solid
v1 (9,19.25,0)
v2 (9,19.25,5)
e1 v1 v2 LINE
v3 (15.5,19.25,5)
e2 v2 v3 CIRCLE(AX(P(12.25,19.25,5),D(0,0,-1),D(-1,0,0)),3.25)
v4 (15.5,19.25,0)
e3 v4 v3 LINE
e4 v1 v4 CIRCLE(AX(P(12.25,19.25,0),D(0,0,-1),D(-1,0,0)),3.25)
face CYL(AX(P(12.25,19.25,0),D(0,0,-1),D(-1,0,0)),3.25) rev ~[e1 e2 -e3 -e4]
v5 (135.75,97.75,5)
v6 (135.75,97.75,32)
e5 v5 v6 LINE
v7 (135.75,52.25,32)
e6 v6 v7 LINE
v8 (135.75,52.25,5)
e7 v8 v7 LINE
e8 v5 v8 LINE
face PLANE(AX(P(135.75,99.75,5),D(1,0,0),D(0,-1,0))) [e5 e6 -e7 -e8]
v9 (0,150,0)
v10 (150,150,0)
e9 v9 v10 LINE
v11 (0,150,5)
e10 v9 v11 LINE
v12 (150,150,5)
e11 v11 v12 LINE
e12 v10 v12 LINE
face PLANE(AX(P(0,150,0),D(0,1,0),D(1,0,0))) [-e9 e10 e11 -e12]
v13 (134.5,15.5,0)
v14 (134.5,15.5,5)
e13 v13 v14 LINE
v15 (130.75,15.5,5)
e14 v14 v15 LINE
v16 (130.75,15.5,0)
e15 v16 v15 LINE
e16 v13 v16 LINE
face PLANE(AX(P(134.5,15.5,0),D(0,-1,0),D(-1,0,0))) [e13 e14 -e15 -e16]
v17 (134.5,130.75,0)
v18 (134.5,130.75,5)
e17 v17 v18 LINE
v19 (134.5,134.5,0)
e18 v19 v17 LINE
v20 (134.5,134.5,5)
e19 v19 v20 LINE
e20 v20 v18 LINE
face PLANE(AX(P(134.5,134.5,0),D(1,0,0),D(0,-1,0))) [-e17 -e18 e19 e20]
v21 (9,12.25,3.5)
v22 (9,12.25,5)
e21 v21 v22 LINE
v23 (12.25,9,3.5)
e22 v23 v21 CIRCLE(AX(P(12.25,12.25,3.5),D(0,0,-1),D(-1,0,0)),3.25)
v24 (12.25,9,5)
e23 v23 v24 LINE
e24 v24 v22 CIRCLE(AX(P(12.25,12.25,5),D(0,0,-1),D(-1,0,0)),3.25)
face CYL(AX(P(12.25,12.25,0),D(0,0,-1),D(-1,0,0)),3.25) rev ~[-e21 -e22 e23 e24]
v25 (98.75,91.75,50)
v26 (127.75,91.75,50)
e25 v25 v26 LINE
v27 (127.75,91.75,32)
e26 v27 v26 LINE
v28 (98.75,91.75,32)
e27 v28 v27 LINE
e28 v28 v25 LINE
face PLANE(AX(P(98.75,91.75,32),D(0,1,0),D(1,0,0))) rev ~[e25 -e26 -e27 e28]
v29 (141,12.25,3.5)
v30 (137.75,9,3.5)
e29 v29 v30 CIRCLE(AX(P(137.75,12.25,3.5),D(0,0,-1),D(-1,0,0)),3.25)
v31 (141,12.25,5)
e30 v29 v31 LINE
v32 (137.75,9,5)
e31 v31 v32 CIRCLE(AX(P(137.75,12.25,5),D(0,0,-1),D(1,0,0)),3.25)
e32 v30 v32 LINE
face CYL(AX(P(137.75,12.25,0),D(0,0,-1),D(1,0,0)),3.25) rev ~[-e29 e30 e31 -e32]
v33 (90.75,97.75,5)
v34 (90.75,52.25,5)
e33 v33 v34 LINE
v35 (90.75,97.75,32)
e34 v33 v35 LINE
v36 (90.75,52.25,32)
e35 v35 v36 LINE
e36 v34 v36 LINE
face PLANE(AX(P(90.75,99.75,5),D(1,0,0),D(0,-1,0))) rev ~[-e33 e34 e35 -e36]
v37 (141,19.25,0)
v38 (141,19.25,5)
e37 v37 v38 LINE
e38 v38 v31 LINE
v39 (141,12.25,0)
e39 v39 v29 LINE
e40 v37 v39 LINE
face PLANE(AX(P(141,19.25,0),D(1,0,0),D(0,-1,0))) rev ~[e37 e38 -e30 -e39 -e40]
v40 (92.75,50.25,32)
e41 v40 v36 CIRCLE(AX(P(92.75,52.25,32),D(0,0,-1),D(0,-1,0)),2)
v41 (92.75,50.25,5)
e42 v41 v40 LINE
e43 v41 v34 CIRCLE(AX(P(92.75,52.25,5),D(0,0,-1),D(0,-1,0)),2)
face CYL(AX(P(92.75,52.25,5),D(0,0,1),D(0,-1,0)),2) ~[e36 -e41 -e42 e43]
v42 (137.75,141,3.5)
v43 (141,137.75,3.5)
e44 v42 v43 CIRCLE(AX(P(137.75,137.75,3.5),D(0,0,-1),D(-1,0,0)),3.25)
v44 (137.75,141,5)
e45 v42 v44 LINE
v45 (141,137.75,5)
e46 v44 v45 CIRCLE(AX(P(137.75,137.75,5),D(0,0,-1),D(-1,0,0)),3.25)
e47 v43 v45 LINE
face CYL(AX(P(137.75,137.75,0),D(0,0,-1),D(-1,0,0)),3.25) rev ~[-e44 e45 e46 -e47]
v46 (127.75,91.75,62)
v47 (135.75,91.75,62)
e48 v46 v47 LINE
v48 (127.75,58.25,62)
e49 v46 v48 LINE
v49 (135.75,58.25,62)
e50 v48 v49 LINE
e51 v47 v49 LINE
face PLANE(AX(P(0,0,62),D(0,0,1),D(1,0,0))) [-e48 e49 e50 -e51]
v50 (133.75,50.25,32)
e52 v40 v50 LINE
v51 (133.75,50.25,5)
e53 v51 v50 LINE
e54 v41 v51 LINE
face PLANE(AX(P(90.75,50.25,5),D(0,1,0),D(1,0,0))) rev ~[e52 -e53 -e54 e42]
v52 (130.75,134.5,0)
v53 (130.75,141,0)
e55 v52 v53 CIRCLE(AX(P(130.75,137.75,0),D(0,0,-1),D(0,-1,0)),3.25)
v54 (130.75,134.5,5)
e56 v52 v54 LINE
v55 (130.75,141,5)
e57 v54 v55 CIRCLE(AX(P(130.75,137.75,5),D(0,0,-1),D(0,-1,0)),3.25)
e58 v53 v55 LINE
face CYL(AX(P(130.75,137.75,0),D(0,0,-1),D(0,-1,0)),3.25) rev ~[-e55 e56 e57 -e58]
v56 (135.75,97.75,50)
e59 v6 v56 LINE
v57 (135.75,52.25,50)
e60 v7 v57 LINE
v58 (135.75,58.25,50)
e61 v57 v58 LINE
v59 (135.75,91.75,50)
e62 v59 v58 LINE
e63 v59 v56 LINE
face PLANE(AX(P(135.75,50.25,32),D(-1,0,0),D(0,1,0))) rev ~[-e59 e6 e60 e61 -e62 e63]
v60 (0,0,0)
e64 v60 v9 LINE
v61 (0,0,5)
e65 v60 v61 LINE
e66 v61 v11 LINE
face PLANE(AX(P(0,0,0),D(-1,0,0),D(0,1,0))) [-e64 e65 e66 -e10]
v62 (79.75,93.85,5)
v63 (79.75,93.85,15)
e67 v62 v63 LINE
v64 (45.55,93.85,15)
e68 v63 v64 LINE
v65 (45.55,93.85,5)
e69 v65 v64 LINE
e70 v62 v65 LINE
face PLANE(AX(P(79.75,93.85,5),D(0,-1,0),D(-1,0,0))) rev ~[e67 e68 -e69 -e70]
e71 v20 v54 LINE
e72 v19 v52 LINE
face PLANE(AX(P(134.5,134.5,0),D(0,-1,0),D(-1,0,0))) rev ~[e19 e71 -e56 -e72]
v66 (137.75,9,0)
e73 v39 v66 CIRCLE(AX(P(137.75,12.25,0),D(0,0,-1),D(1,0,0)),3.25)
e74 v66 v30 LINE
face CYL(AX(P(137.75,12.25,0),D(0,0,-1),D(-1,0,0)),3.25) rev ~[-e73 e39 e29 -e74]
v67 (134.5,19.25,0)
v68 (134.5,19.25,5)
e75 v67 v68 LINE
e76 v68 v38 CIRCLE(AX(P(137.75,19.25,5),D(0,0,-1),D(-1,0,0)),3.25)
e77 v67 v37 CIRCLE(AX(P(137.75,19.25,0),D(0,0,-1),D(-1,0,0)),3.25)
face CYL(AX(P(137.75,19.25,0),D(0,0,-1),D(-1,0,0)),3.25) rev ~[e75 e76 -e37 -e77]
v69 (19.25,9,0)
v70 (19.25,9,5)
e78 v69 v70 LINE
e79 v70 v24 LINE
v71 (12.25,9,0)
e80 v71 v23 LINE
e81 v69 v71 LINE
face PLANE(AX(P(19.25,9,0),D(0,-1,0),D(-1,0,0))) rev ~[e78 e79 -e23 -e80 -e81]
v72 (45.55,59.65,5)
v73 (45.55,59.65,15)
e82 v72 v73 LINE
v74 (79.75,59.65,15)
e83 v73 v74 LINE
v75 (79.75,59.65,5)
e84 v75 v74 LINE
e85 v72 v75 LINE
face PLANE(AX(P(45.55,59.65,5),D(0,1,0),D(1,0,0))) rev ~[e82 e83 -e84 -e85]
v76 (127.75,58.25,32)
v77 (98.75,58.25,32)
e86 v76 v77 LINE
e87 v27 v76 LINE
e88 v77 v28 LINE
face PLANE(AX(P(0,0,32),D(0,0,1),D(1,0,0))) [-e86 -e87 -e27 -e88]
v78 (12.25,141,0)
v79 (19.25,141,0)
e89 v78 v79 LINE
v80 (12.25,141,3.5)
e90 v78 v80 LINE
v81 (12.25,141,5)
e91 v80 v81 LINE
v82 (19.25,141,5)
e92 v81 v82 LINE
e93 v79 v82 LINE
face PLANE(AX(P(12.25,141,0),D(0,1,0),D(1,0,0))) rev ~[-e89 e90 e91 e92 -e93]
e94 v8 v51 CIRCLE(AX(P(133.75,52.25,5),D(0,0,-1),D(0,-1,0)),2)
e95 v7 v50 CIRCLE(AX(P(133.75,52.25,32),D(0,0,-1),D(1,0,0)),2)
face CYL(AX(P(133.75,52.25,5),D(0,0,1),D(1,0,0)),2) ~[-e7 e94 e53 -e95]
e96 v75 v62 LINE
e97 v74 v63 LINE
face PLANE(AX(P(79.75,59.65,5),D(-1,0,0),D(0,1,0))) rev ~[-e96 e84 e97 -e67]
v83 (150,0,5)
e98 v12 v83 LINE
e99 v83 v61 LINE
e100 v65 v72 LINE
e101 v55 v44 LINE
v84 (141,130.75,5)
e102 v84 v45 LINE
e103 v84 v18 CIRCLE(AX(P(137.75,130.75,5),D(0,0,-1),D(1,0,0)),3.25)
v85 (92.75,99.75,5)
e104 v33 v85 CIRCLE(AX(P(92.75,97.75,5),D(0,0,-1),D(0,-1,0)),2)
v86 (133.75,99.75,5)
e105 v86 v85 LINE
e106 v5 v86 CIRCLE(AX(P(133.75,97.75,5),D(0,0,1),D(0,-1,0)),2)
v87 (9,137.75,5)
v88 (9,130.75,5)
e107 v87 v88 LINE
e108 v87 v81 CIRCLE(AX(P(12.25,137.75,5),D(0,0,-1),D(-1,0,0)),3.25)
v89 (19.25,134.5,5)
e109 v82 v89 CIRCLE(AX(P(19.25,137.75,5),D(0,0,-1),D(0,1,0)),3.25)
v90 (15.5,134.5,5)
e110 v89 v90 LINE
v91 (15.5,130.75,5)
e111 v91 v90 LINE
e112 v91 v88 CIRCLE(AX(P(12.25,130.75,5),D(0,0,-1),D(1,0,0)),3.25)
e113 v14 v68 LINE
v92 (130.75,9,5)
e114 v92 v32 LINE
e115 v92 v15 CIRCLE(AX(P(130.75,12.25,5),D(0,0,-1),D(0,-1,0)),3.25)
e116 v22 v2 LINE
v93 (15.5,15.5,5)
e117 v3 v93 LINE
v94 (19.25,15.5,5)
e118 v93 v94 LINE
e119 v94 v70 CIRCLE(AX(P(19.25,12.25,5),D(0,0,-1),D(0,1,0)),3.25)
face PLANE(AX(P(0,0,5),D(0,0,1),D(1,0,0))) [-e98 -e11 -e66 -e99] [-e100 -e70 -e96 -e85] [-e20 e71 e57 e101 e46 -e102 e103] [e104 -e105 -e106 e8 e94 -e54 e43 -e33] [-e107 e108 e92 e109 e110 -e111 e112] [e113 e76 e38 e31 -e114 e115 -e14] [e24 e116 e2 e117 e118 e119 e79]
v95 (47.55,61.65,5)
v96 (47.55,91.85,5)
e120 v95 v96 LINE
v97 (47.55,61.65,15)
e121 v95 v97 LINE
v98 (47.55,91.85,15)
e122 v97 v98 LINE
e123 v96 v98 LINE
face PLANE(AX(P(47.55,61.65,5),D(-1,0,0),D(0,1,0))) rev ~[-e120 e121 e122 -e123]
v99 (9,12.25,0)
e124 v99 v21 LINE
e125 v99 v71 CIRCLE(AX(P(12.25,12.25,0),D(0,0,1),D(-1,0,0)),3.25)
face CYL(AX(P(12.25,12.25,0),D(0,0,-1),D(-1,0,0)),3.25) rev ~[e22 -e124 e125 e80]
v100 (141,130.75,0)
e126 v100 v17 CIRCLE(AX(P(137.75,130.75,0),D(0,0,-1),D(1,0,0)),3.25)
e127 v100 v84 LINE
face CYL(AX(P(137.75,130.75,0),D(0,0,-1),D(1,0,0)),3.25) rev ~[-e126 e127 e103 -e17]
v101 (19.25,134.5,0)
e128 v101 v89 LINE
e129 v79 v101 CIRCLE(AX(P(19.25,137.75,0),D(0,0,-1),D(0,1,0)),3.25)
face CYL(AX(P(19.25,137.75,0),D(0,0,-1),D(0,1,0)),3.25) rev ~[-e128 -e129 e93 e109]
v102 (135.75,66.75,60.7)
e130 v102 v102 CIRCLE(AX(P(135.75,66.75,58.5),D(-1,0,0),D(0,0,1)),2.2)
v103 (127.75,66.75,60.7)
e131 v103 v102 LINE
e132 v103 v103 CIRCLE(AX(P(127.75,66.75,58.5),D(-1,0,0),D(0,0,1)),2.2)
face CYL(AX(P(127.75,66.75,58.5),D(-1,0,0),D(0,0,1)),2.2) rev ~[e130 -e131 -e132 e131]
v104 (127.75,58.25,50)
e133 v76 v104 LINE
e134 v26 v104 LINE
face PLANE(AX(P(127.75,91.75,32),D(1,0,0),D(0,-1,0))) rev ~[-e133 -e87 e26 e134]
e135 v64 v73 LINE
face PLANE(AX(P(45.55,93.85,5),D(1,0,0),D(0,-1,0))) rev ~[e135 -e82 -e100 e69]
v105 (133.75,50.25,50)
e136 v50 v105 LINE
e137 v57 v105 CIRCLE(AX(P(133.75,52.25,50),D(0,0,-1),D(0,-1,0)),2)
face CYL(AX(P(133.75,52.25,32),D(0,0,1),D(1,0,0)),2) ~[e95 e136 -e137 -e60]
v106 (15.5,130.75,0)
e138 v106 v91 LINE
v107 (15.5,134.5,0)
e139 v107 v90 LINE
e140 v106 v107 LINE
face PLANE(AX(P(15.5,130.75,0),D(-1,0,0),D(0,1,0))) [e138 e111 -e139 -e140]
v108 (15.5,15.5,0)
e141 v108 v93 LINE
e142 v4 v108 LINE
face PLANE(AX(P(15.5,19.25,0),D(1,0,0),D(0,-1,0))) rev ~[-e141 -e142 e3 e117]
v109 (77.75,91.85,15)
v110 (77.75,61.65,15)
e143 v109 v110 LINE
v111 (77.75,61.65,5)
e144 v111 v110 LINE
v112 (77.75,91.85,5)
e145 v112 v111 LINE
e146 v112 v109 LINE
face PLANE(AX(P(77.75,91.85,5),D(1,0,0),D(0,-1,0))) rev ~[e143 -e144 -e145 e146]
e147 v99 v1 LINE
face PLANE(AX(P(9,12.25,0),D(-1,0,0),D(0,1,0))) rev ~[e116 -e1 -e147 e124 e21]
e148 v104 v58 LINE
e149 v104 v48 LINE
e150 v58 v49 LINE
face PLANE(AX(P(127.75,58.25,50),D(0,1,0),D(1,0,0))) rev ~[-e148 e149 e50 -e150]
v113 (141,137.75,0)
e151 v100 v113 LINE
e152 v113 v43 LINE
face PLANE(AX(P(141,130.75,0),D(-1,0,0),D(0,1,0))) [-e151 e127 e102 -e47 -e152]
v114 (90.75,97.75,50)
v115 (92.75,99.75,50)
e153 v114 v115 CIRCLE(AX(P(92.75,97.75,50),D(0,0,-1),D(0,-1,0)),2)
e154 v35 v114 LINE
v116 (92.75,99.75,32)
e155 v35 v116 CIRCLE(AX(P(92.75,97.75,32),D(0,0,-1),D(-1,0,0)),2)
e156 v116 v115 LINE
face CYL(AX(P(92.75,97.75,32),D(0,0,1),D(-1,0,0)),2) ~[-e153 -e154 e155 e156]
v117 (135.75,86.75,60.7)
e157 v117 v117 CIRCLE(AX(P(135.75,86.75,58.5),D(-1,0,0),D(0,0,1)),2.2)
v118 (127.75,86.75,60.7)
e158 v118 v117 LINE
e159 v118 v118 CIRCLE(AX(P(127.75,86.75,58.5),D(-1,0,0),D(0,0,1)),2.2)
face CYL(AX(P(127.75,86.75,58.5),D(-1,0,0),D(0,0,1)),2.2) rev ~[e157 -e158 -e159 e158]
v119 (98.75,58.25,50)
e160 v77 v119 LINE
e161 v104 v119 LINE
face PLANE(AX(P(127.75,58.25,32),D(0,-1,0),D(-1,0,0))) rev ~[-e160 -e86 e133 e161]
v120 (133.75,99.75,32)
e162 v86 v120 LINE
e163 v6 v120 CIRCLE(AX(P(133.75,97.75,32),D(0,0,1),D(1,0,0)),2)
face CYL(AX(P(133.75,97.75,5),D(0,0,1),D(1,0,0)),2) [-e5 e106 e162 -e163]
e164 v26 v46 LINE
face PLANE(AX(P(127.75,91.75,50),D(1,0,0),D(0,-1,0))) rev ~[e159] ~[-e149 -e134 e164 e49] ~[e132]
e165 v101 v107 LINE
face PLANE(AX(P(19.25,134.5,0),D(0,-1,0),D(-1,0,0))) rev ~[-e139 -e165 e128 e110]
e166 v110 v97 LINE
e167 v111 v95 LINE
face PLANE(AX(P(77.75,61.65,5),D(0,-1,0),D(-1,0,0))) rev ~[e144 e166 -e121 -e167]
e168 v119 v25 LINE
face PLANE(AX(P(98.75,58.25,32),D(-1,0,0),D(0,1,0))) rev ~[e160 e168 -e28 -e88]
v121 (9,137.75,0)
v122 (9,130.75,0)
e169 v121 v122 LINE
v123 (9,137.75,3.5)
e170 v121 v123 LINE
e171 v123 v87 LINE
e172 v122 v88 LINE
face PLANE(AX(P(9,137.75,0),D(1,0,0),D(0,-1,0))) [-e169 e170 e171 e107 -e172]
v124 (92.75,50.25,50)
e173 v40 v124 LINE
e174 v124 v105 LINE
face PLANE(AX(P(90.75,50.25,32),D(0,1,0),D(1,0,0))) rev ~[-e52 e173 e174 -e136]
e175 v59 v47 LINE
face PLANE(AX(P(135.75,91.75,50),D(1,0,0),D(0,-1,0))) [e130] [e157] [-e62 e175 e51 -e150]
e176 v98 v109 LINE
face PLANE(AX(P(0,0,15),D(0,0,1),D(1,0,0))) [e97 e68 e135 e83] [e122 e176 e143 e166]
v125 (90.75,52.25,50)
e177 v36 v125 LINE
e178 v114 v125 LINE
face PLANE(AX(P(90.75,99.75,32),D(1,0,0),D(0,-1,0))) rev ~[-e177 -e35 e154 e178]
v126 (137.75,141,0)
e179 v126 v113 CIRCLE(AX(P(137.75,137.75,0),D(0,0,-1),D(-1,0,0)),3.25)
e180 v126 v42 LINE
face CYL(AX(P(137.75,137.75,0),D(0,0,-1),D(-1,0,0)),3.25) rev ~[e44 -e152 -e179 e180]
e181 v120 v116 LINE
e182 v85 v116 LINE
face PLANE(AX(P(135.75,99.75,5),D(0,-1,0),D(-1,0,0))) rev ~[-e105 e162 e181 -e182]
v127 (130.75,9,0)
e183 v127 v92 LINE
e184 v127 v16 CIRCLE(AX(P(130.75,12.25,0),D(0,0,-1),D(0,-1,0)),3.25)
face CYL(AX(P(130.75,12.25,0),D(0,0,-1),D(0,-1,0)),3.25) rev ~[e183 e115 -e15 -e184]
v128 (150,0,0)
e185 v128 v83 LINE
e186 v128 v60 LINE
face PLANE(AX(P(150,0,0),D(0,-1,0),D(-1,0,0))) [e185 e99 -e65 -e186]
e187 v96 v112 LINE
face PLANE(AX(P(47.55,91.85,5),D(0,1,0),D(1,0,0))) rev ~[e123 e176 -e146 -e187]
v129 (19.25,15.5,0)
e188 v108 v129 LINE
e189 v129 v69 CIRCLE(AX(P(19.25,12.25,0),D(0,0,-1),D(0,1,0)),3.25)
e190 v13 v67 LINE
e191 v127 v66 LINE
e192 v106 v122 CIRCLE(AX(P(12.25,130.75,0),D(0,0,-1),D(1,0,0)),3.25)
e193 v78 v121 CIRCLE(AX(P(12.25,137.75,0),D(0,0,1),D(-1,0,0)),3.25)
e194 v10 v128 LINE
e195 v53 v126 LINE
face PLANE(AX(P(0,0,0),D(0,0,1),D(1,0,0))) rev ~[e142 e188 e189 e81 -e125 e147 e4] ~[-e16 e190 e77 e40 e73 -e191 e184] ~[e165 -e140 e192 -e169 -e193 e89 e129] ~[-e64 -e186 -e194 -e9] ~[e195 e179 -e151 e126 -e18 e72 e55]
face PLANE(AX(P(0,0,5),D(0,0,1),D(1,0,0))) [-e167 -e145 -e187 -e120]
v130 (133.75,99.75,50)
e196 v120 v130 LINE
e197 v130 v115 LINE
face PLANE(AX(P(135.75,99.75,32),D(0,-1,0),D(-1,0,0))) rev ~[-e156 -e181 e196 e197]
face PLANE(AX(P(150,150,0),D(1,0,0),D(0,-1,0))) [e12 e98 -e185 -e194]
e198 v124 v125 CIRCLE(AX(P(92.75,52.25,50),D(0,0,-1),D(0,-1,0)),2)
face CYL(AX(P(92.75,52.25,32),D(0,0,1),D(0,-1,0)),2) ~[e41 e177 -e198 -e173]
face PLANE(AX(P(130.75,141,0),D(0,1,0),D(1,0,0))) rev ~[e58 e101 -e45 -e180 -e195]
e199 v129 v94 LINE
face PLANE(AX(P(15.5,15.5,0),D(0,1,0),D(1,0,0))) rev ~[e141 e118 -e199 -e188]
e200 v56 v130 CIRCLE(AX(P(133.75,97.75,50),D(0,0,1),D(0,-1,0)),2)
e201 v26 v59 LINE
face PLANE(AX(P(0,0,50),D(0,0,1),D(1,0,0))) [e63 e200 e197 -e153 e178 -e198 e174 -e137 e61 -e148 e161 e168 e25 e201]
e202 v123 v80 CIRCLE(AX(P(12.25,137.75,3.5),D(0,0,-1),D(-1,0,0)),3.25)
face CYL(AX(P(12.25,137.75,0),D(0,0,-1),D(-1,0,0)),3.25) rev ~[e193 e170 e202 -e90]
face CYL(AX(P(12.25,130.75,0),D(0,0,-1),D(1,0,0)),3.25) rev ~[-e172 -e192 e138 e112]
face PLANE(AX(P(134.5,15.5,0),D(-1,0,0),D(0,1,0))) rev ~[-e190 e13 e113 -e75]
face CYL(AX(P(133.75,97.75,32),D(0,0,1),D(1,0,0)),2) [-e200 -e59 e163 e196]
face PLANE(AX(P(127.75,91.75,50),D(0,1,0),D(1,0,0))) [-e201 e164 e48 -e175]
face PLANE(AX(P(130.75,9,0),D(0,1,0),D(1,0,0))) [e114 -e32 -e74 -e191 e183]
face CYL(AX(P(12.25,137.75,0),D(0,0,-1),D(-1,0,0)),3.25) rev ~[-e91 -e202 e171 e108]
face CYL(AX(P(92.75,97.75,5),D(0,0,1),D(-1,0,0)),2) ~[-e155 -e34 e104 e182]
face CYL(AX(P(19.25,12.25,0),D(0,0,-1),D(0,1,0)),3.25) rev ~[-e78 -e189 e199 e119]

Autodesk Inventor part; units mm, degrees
ref_plane "YZ Plane" through (0, 0, 0) normal (1, 0, 0) x (0, 1, 0)
ref_plane "XZ Plane" through (0, 0, 0) normal (0, 1, 0) x (-1, 0, 0)
ref_plane "XY Plane" through (0, 0, 0) normal (0, 0, 1) x (1, 0, 0)
sketch "스케치1" plane through (0, 0, 0) normal (0, 0, 1) x (1, 0, 0)
  line L0 (0, 150) -> (150, 150)
  line L1 (150, 150) -> (150, 0)
  line L2 (150, 0) -> (0, 0)
  line L3 (0, 0) -> (0, 150)
  dimension "d0" = 150
  dimension "d1" = 150
extrude "돌출1" add sketch "스케치1" along normal blind 5
sketch "스케치2" plane through (0, 0, 5) normal (0, 0, 1) x (1, 0, 0)
  line L0 (0, 0) -> (150, 0) projected
  line L1 (150, 0) -> (150, 150) projected
  line L2 (150, 150) -> (0, 150) projected
  line L3 (0, 150) -> (0, 0) projected
  line L4 (12.25, 137.75) -> (137.75, 137.75)
  line L5 (137.75, 137.75) -> (137.75, 12.25)
  line L6 (137.75, 12.25) -> (12.25, 12.25)
  line L7 (12.25, 12.25) -> (12.25, 137.75)
  dimension "d4" = 12.25
sketch "스케치4" plane through (0, 0, 0) normal (0, 0, -1) x (-1, 0, 0)
  line L0 (0, 0) -> (-150, 0) projected
  line L1 (0, 150) -> (0, 0) projected
  line L2 (-150, 150) -> (0, 150) projected
  line L3 (-150, 0) -> (-150, 150) projected
  line L4 (-12.25, 12.25) -> (-137.75, 12.25)
  line L5 (-137.75, 12.25) -> (-137.75, 137.75)
  line L6 (-137.75, 137.75) -> (-12.25, 137.75)
  line L7 (-12.25, 137.75) -> (-12.25, 12.25)
  circle A0 centre (-12.25, 137.75) radius 3.25
  circle A1 centre (-137.75, 137.75) radius 3.25
  circle A2 centre (-12.25, 12.25) radius 3.25
  circle A3 centre (-137.75, 12.25) radius 3.25
  line L8 (-12.25, 137.75) -> (-12.25, 130.75) construction
  line L9 (-9, 137.75) -> (-9, 130.75)
  line L10 (-15.5, 130.75) -> (-15.5, 137.75)
  arc A4 (-9, 137.75) -> (-15.5, 137.75) centre (-12.25, 137.75) ccw
  arc A5 (-15.5, 130.75) -> (-9, 130.75) centre (-12.25, 130.75) ccw
  line L11 (-12.25, 137.75) -> (-19.25, 137.75) construction
  line L12 (-12.25, 141.0002) -> (-19.25, 141.0002)
  line L13 (-19.25, 134.4998) -> (-12.25, 134.4998)
  arc A6 (-12.25, 134.4998) -> (-12.25, 141.0002) centre (-12.25, 137.75) ccw
  arc A7 (-19.25, 141.0002) -> (-19.25, 134.4998) centre (-19.25, 137.75) ccw
  point P0 (-12.25, 134.25)
  point P1 (-15.75, 137.75)
  dimension "d22" = 12.25
  dimension "d23" = 6.5
  dimension "d26" = 125.5
  dimension "d33" = 125.5
  dimension "d57" = 7
  dimension "d58" = 7
extrude "돌출3" cut sketch "스케치4" against normal blind 3.5 contours A3 L5 L4 | L4 L5 A3 | A2 L7 L4 | L4 L7 A2 | A1 L6 L5 | L5 L6 A1 | A0 L6 L7 | L7 L6 A0
sketch "스케치8" plane through (0, 0, 5) normal (0, 0, 1) x (1, 0, 0)
  point P0 (0, 0)
sketch "스케치9" plane through (0, 0, 0) normal (0, 0, -1) x (-1, 0, 0)
  point P0 (0, 0)
sketch "스케치10" plane through (0, 0, 0) normal (0, 0, -1) x (-1, 0, 0)
  circle A0 centre (-12.25, 137.75) radius 3.25 projected
  circle A1 centre (-137.75, 137.75) radius 3.25 projected
  circle A2 centre (-137.75, 12.25) radius 3.25 projected
  circle A3 centre (-12.25, 12.25) radius 3.25 projected
  circle A4 centre (-137.75, 12.25) radius 3.25 projected
  circle A5 centre (-12.25, 12.25) radius 3.25 projected
  circle A6 centre (-137.75, 137.75) radius 3.25 projected
  circle A7 centre (-12.25, 137.75) radius 3.25 projected
  line L0 (0, 0) -> (-150, 0) projected
  line L1 (0, 150) -> (0, 0) projected
  line L2 (-150, 150) -> (0, 150) projected
  line L3 (-150, 0) -> (-150, 150) projected
sketch "스케치11" plane through (0, 0, 0) normal (0, 0, -1) x (-1, 0, 0)
  circle A0 centre (-12.25, 137.75) radius 3.25 projected
  line L0 (-12.25, 137.75) -> (-12.25, 130.75) construction
  line L1 (-9, 137.75) -> (-9, 130.75)
  line L2 (-15.5, 130.75) -> (-15.5, 137.75)
  arc A1 (-9, 137.75) -> (-15.5, 137.75) centre (-12.25, 137.75) ccw
  arc A2 (-15.5, 130.75) -> (-9, 130.75) centre (-12.25, 130.75) ccw
  line L3 (-12.25, 137.75) -> (-19.25, 137.75) construction
  line L4 (-12.25, 141) -> (-19.25, 141)
  line L5 (-19.25, 134.5) -> (-12.25, 134.5)
  arc A3 (-12.25, 134.5) -> (-12.25, 141) centre (-12.25, 137.75) ccw
  arc A4 (-19.25, 141) -> (-19.25, 134.5) centre (-19.25, 137.75) ccw
  point P0 (0, 0)
  point P1 (-12.25, 134.25)
  point P2 (-15.75, 137.75)
  point P3 (-15.5, 134.5)
  dimension "d60" = 3.25
  dimension "d61" = 7
  dimension "d62" = 7
  dimension "d63" = 3.25
extrude "돌출7" cut sketch "스케치11" against normal blind 5
sketch "스케치12" plane through (0, 0, 0) normal (0, 0, -1) x (-1, 0, 0)
  circle A0 centre (-12.25, 12.25) radius 3.25 projected
  line L0 (-12.25, 12.25) -> (-12.25, 19.25) construction
  line L1 (-9, 12.25) -> (-9, 19.25)
  line L2 (-15.5, 19.25) -> (-15.5, 12.25)
  arc A1 (-15.5, 12.25) -> (-9, 12.25) centre (-12.25, 12.25) ccw
  arc A2 (-9, 19.25) -> (-15.5, 19.25) centre (-12.25, 19.25) ccw
  line L3 (-12.25, 12.25) -> (-19.25, 12.25) construction
  line L4 (-12.25, 15.5) -> (-19.25, 15.5)
  line L5 (-19.25, 9) -> (-12.25, 9)
  arc A3 (-12.25, 9) -> (-12.25, 15.5) centre (-12.25, 12.25) ccw
  arc A4 (-19.25, 15.5) -> (-19.25, 9) centre (-19.25, 12.25) ccw
  line L6 (-137.75, 12.25) -> (-137.75, 19.25) construction
  line L7 (-134.5, 12.25) -> (-134.5, 19.25)
  line L8 (-141, 19.25) -> (-141, 12.25)
  arc A5 (-141, 12.25) -> (-134.5, 12.25) centre (-137.75, 12.25) ccw
  arc A6 (-134.5, 19.25) -> (-141, 19.25) centre (-137.75, 19.25) ccw
  line L9 (-137.75, 12.25) -> (-130.75, 12.25) construction
  line L10 (-137.75, 15.5) -> (-130.75, 15.5)
  line L11 (-130.75, 9) -> (-137.75, 9)
  arc A7 (-137.75, 15.5) -> (-137.75, 9) centre (-137.75, 12.25) ccw
  arc A8 (-130.75, 9) -> (-130.75, 15.5) centre (-130.75, 12.25) ccw
  circle A9 centre (-137.75, 137.75) radius 3.25 projected
  line L12 (-137.75, 137.75) -> (-137.75, 130.75) construction
  line L13 (-134.5, 137.75) -> (-134.5, 130.75)
  line L14 (-141, 130.75) -> (-141, 137.75)
  arc A10 (-134.5, 137.75) -> (-141, 137.75) centre (-137.75, 137.75) ccw
  arc A11 (-141, 130.75) -> (-134.5, 130.75) centre (-137.75, 130.75) ccw
  line L15 (-137.75, 137.75) -> (-130.75, 137.75) construction
  line L16 (-137.75, 134.5) -> (-130.75, 134.5)
  line L17 (-130.75, 141) -> (-137.75, 141)
  arc A12 (-137.75, 141) -> (-137.75, 134.5) centre (-137.75, 137.75) ccw
  arc A13 (-130.75, 134.5) -> (-130.75, 141) centre (-130.75, 137.75) ccw
  point P0 (0, 0)
  point P1 (-12.25, 15.75)
  point P2 (-15.75, 12.25)
  point P3 (-137.75, 15.75)
  point P4 (-134.25, 12.25)
  point P5 (-137.75, 134.25)
  point P6 (-134.25, 137.75)
  point P7 (-134.5, 134.5)
  point P8 (-134.5, 15.5)
  point P9 (-15.5, 15.5)
  dimension "d66" = 3.25
  dimension "d67" = 7
  dimension "d68" = 7
  dimension "d69" = 3.25
  dimension "d70" = 3.25
  dimension "d71" = 7
  dimension "d72" = 3.25
  dimension "d73" = 7
  dimension "d74" = 3.25
  dimension "d75" = 3.25
  dimension "d76" = 7
  dimension "d77" = 7
extrude "돌출8" cut sketch "스케치12" against normal blind 5
sketch "스케치13" plane through (0, 0, 5) normal (0, 0, 1) x (1, 0, 0)
  line L0 (90.75, 99.75) -> (90.75, 50.25) projected
  line L1 (90.75, 50.25) -> (135.75, 50.25) projected
  line L2 (135.75, 99.75) -> (90.75, 99.75) projected
  line L3 (135.75, 99.75) -> (135.75, 50.25) projected
  point P0 (0, 0)
extrude "돌출9" add sketch "스케치13" along normal blind 27
sketch "스케치14" plane through (0, 0, 32) normal (0, 0, 1) x (1, 0, 0)
  line L0 (90.75, 99.75) -> (90.75, 50.25) projected
  line L1 (90.75, 50.25) -> (135.75, 50.25) projected
  line L2 (135.75, 50.25) -> (135.75, 99.75) projected
  line L3 (135.75, 99.75) -> (90.75, 99.75) projected
  line L4 (127.75, 58.25) -> (98.75, 58.25)
  line L5 (98.75, 58.25) -> (98.75, 91.75)
  line L6 (98.75, 91.75) -> (127.75, 91.75)
  line L7 (127.75, 91.75) -> (127.75, 58.25)
  point P0 (0, 0)
  dimension "d84" = 8
extrude "돌출10" add sketch "스케치14" along normal blind 18
sketch "스케치15" plane through (0, 0, 50) normal (0, 0, 1) x (1, 0, 0)
  line L0 (127.75, 91.75) -> (127.75, 58.25) projected
  line L1 (127.75, 58.25) -> (135.75, 58.25)
  line L2 (135.75, 99.75) -> (135.75, 50.25) projected
  line L3 (127.75, 91.75) -> (135.75, 91.75)
  point P0 (0, 0)
extrude "돌출11" add sketch "스케치15" along normal blind 12
sketch "스케치16" plane through (127.75, 58.25, 32) normal (-1, 0, 0) x (0, 0, 1)
  line L0 (0, 0) -> (0, 33.5) projected
  line L1 (0, 0) -> (0, 33.5) projected
  line L2 (0, 0) -> (18, 0) projected
  line L3 (18, 0) -> (30, 0) projected
  line L4 (30, 33.5) -> (30, 0) projected
  line L5 (18, 33.5) -> (30, 33.5) projected
  line L6 (0, 33.5) -> (18, 33.5) projected
  point P0 (-32, -58.25)
sketch "스케치17" plane through (135.75, 50.25, 5) normal (1, 0, 0) x (0, 0, -1)
  point P0 (5, -50.25)
sketch "스케치18" plane through (127.75, 58.25, 32) normal (-1, 0, 0) x (0, 0, 1)
  circle A0 centre (26.5, 28.5) radius 2.2
  circle A1 centre (26.5, 8.5) radius 2.2
  line L0 (18, 33.5) -> (30, 33.5) projected
  line L1 (0, 0) -> (0, 33.5) projected
  point P0 (-32, -58.25)
  dimension "d89" = 4.4
  dimension "d90" = 5
  dimension "d91" = 26.5
  dimension "d92" = 26.5
  dimension "d93" = 20
  dimension "d94" = 4.4
extrude "돌출12" cut sketch "스케치18" against normal blind 8
sketch "스케치19" plane through (0, 0, 5) normal (0, 0, 1) x (1, 0, 0)
  point P0 (0, 0)
fillet "모깎기3" radius 2 8 edges at (90.75, 99.75, 41) (90.75, 99.75, 18.5) (135.75, 99.75, 41) (135.75, 99.75, 18.5) (90.75, 50.25, 41) (90.75, 50.25, 18.5) (135.75, 50.25, 41) (135.75, 50.25, 18.5)
sketch "스케치20" plane through (0, 0, 5) normal (0, 0, 1) x (1, 0, 0)
  line L0 (77.75, 61.65) -> (47.55, 61.65)
  line L1 (47.55, 61.65) -> (47.55, 91.85)
  line L2 (47.55, 91.85) -> (77.75, 91.85)
  line L3 (77.75, 91.85) -> (77.75, 61.65)
  line L4 (137.75, 12.25) -> (12.25, 12.25) projected
  line L5 (90.75, 97.75) -> (90.75, 52.25) projected
  line L6 (45.55, 59.65) -> (79.75, 59.65)
  line L7 (79.75, 59.65) -> (79.75, 93.85)
  line L8 (79.75, 93.85) -> (45.55, 93.85)
  line L9 (45.55, 93.85) -> (45.55, 59.65)
  line L10 (90.75, 52.25) -> (90.75, 97.75) projected
  point P0 (0, 0)
  point P1 (90.75, 57.9)
  point P2 (90.75, 92.1)
  dimension "d98" = 30.2
  dimension "d99" = 30.2
  dimension "d100" = 49.4
  dimension "d101" = 2
  dimension "d104" = 11
extrude "돌출13" add sketch "스케치20" along normal blind 10
properties part number "yield_bed"
